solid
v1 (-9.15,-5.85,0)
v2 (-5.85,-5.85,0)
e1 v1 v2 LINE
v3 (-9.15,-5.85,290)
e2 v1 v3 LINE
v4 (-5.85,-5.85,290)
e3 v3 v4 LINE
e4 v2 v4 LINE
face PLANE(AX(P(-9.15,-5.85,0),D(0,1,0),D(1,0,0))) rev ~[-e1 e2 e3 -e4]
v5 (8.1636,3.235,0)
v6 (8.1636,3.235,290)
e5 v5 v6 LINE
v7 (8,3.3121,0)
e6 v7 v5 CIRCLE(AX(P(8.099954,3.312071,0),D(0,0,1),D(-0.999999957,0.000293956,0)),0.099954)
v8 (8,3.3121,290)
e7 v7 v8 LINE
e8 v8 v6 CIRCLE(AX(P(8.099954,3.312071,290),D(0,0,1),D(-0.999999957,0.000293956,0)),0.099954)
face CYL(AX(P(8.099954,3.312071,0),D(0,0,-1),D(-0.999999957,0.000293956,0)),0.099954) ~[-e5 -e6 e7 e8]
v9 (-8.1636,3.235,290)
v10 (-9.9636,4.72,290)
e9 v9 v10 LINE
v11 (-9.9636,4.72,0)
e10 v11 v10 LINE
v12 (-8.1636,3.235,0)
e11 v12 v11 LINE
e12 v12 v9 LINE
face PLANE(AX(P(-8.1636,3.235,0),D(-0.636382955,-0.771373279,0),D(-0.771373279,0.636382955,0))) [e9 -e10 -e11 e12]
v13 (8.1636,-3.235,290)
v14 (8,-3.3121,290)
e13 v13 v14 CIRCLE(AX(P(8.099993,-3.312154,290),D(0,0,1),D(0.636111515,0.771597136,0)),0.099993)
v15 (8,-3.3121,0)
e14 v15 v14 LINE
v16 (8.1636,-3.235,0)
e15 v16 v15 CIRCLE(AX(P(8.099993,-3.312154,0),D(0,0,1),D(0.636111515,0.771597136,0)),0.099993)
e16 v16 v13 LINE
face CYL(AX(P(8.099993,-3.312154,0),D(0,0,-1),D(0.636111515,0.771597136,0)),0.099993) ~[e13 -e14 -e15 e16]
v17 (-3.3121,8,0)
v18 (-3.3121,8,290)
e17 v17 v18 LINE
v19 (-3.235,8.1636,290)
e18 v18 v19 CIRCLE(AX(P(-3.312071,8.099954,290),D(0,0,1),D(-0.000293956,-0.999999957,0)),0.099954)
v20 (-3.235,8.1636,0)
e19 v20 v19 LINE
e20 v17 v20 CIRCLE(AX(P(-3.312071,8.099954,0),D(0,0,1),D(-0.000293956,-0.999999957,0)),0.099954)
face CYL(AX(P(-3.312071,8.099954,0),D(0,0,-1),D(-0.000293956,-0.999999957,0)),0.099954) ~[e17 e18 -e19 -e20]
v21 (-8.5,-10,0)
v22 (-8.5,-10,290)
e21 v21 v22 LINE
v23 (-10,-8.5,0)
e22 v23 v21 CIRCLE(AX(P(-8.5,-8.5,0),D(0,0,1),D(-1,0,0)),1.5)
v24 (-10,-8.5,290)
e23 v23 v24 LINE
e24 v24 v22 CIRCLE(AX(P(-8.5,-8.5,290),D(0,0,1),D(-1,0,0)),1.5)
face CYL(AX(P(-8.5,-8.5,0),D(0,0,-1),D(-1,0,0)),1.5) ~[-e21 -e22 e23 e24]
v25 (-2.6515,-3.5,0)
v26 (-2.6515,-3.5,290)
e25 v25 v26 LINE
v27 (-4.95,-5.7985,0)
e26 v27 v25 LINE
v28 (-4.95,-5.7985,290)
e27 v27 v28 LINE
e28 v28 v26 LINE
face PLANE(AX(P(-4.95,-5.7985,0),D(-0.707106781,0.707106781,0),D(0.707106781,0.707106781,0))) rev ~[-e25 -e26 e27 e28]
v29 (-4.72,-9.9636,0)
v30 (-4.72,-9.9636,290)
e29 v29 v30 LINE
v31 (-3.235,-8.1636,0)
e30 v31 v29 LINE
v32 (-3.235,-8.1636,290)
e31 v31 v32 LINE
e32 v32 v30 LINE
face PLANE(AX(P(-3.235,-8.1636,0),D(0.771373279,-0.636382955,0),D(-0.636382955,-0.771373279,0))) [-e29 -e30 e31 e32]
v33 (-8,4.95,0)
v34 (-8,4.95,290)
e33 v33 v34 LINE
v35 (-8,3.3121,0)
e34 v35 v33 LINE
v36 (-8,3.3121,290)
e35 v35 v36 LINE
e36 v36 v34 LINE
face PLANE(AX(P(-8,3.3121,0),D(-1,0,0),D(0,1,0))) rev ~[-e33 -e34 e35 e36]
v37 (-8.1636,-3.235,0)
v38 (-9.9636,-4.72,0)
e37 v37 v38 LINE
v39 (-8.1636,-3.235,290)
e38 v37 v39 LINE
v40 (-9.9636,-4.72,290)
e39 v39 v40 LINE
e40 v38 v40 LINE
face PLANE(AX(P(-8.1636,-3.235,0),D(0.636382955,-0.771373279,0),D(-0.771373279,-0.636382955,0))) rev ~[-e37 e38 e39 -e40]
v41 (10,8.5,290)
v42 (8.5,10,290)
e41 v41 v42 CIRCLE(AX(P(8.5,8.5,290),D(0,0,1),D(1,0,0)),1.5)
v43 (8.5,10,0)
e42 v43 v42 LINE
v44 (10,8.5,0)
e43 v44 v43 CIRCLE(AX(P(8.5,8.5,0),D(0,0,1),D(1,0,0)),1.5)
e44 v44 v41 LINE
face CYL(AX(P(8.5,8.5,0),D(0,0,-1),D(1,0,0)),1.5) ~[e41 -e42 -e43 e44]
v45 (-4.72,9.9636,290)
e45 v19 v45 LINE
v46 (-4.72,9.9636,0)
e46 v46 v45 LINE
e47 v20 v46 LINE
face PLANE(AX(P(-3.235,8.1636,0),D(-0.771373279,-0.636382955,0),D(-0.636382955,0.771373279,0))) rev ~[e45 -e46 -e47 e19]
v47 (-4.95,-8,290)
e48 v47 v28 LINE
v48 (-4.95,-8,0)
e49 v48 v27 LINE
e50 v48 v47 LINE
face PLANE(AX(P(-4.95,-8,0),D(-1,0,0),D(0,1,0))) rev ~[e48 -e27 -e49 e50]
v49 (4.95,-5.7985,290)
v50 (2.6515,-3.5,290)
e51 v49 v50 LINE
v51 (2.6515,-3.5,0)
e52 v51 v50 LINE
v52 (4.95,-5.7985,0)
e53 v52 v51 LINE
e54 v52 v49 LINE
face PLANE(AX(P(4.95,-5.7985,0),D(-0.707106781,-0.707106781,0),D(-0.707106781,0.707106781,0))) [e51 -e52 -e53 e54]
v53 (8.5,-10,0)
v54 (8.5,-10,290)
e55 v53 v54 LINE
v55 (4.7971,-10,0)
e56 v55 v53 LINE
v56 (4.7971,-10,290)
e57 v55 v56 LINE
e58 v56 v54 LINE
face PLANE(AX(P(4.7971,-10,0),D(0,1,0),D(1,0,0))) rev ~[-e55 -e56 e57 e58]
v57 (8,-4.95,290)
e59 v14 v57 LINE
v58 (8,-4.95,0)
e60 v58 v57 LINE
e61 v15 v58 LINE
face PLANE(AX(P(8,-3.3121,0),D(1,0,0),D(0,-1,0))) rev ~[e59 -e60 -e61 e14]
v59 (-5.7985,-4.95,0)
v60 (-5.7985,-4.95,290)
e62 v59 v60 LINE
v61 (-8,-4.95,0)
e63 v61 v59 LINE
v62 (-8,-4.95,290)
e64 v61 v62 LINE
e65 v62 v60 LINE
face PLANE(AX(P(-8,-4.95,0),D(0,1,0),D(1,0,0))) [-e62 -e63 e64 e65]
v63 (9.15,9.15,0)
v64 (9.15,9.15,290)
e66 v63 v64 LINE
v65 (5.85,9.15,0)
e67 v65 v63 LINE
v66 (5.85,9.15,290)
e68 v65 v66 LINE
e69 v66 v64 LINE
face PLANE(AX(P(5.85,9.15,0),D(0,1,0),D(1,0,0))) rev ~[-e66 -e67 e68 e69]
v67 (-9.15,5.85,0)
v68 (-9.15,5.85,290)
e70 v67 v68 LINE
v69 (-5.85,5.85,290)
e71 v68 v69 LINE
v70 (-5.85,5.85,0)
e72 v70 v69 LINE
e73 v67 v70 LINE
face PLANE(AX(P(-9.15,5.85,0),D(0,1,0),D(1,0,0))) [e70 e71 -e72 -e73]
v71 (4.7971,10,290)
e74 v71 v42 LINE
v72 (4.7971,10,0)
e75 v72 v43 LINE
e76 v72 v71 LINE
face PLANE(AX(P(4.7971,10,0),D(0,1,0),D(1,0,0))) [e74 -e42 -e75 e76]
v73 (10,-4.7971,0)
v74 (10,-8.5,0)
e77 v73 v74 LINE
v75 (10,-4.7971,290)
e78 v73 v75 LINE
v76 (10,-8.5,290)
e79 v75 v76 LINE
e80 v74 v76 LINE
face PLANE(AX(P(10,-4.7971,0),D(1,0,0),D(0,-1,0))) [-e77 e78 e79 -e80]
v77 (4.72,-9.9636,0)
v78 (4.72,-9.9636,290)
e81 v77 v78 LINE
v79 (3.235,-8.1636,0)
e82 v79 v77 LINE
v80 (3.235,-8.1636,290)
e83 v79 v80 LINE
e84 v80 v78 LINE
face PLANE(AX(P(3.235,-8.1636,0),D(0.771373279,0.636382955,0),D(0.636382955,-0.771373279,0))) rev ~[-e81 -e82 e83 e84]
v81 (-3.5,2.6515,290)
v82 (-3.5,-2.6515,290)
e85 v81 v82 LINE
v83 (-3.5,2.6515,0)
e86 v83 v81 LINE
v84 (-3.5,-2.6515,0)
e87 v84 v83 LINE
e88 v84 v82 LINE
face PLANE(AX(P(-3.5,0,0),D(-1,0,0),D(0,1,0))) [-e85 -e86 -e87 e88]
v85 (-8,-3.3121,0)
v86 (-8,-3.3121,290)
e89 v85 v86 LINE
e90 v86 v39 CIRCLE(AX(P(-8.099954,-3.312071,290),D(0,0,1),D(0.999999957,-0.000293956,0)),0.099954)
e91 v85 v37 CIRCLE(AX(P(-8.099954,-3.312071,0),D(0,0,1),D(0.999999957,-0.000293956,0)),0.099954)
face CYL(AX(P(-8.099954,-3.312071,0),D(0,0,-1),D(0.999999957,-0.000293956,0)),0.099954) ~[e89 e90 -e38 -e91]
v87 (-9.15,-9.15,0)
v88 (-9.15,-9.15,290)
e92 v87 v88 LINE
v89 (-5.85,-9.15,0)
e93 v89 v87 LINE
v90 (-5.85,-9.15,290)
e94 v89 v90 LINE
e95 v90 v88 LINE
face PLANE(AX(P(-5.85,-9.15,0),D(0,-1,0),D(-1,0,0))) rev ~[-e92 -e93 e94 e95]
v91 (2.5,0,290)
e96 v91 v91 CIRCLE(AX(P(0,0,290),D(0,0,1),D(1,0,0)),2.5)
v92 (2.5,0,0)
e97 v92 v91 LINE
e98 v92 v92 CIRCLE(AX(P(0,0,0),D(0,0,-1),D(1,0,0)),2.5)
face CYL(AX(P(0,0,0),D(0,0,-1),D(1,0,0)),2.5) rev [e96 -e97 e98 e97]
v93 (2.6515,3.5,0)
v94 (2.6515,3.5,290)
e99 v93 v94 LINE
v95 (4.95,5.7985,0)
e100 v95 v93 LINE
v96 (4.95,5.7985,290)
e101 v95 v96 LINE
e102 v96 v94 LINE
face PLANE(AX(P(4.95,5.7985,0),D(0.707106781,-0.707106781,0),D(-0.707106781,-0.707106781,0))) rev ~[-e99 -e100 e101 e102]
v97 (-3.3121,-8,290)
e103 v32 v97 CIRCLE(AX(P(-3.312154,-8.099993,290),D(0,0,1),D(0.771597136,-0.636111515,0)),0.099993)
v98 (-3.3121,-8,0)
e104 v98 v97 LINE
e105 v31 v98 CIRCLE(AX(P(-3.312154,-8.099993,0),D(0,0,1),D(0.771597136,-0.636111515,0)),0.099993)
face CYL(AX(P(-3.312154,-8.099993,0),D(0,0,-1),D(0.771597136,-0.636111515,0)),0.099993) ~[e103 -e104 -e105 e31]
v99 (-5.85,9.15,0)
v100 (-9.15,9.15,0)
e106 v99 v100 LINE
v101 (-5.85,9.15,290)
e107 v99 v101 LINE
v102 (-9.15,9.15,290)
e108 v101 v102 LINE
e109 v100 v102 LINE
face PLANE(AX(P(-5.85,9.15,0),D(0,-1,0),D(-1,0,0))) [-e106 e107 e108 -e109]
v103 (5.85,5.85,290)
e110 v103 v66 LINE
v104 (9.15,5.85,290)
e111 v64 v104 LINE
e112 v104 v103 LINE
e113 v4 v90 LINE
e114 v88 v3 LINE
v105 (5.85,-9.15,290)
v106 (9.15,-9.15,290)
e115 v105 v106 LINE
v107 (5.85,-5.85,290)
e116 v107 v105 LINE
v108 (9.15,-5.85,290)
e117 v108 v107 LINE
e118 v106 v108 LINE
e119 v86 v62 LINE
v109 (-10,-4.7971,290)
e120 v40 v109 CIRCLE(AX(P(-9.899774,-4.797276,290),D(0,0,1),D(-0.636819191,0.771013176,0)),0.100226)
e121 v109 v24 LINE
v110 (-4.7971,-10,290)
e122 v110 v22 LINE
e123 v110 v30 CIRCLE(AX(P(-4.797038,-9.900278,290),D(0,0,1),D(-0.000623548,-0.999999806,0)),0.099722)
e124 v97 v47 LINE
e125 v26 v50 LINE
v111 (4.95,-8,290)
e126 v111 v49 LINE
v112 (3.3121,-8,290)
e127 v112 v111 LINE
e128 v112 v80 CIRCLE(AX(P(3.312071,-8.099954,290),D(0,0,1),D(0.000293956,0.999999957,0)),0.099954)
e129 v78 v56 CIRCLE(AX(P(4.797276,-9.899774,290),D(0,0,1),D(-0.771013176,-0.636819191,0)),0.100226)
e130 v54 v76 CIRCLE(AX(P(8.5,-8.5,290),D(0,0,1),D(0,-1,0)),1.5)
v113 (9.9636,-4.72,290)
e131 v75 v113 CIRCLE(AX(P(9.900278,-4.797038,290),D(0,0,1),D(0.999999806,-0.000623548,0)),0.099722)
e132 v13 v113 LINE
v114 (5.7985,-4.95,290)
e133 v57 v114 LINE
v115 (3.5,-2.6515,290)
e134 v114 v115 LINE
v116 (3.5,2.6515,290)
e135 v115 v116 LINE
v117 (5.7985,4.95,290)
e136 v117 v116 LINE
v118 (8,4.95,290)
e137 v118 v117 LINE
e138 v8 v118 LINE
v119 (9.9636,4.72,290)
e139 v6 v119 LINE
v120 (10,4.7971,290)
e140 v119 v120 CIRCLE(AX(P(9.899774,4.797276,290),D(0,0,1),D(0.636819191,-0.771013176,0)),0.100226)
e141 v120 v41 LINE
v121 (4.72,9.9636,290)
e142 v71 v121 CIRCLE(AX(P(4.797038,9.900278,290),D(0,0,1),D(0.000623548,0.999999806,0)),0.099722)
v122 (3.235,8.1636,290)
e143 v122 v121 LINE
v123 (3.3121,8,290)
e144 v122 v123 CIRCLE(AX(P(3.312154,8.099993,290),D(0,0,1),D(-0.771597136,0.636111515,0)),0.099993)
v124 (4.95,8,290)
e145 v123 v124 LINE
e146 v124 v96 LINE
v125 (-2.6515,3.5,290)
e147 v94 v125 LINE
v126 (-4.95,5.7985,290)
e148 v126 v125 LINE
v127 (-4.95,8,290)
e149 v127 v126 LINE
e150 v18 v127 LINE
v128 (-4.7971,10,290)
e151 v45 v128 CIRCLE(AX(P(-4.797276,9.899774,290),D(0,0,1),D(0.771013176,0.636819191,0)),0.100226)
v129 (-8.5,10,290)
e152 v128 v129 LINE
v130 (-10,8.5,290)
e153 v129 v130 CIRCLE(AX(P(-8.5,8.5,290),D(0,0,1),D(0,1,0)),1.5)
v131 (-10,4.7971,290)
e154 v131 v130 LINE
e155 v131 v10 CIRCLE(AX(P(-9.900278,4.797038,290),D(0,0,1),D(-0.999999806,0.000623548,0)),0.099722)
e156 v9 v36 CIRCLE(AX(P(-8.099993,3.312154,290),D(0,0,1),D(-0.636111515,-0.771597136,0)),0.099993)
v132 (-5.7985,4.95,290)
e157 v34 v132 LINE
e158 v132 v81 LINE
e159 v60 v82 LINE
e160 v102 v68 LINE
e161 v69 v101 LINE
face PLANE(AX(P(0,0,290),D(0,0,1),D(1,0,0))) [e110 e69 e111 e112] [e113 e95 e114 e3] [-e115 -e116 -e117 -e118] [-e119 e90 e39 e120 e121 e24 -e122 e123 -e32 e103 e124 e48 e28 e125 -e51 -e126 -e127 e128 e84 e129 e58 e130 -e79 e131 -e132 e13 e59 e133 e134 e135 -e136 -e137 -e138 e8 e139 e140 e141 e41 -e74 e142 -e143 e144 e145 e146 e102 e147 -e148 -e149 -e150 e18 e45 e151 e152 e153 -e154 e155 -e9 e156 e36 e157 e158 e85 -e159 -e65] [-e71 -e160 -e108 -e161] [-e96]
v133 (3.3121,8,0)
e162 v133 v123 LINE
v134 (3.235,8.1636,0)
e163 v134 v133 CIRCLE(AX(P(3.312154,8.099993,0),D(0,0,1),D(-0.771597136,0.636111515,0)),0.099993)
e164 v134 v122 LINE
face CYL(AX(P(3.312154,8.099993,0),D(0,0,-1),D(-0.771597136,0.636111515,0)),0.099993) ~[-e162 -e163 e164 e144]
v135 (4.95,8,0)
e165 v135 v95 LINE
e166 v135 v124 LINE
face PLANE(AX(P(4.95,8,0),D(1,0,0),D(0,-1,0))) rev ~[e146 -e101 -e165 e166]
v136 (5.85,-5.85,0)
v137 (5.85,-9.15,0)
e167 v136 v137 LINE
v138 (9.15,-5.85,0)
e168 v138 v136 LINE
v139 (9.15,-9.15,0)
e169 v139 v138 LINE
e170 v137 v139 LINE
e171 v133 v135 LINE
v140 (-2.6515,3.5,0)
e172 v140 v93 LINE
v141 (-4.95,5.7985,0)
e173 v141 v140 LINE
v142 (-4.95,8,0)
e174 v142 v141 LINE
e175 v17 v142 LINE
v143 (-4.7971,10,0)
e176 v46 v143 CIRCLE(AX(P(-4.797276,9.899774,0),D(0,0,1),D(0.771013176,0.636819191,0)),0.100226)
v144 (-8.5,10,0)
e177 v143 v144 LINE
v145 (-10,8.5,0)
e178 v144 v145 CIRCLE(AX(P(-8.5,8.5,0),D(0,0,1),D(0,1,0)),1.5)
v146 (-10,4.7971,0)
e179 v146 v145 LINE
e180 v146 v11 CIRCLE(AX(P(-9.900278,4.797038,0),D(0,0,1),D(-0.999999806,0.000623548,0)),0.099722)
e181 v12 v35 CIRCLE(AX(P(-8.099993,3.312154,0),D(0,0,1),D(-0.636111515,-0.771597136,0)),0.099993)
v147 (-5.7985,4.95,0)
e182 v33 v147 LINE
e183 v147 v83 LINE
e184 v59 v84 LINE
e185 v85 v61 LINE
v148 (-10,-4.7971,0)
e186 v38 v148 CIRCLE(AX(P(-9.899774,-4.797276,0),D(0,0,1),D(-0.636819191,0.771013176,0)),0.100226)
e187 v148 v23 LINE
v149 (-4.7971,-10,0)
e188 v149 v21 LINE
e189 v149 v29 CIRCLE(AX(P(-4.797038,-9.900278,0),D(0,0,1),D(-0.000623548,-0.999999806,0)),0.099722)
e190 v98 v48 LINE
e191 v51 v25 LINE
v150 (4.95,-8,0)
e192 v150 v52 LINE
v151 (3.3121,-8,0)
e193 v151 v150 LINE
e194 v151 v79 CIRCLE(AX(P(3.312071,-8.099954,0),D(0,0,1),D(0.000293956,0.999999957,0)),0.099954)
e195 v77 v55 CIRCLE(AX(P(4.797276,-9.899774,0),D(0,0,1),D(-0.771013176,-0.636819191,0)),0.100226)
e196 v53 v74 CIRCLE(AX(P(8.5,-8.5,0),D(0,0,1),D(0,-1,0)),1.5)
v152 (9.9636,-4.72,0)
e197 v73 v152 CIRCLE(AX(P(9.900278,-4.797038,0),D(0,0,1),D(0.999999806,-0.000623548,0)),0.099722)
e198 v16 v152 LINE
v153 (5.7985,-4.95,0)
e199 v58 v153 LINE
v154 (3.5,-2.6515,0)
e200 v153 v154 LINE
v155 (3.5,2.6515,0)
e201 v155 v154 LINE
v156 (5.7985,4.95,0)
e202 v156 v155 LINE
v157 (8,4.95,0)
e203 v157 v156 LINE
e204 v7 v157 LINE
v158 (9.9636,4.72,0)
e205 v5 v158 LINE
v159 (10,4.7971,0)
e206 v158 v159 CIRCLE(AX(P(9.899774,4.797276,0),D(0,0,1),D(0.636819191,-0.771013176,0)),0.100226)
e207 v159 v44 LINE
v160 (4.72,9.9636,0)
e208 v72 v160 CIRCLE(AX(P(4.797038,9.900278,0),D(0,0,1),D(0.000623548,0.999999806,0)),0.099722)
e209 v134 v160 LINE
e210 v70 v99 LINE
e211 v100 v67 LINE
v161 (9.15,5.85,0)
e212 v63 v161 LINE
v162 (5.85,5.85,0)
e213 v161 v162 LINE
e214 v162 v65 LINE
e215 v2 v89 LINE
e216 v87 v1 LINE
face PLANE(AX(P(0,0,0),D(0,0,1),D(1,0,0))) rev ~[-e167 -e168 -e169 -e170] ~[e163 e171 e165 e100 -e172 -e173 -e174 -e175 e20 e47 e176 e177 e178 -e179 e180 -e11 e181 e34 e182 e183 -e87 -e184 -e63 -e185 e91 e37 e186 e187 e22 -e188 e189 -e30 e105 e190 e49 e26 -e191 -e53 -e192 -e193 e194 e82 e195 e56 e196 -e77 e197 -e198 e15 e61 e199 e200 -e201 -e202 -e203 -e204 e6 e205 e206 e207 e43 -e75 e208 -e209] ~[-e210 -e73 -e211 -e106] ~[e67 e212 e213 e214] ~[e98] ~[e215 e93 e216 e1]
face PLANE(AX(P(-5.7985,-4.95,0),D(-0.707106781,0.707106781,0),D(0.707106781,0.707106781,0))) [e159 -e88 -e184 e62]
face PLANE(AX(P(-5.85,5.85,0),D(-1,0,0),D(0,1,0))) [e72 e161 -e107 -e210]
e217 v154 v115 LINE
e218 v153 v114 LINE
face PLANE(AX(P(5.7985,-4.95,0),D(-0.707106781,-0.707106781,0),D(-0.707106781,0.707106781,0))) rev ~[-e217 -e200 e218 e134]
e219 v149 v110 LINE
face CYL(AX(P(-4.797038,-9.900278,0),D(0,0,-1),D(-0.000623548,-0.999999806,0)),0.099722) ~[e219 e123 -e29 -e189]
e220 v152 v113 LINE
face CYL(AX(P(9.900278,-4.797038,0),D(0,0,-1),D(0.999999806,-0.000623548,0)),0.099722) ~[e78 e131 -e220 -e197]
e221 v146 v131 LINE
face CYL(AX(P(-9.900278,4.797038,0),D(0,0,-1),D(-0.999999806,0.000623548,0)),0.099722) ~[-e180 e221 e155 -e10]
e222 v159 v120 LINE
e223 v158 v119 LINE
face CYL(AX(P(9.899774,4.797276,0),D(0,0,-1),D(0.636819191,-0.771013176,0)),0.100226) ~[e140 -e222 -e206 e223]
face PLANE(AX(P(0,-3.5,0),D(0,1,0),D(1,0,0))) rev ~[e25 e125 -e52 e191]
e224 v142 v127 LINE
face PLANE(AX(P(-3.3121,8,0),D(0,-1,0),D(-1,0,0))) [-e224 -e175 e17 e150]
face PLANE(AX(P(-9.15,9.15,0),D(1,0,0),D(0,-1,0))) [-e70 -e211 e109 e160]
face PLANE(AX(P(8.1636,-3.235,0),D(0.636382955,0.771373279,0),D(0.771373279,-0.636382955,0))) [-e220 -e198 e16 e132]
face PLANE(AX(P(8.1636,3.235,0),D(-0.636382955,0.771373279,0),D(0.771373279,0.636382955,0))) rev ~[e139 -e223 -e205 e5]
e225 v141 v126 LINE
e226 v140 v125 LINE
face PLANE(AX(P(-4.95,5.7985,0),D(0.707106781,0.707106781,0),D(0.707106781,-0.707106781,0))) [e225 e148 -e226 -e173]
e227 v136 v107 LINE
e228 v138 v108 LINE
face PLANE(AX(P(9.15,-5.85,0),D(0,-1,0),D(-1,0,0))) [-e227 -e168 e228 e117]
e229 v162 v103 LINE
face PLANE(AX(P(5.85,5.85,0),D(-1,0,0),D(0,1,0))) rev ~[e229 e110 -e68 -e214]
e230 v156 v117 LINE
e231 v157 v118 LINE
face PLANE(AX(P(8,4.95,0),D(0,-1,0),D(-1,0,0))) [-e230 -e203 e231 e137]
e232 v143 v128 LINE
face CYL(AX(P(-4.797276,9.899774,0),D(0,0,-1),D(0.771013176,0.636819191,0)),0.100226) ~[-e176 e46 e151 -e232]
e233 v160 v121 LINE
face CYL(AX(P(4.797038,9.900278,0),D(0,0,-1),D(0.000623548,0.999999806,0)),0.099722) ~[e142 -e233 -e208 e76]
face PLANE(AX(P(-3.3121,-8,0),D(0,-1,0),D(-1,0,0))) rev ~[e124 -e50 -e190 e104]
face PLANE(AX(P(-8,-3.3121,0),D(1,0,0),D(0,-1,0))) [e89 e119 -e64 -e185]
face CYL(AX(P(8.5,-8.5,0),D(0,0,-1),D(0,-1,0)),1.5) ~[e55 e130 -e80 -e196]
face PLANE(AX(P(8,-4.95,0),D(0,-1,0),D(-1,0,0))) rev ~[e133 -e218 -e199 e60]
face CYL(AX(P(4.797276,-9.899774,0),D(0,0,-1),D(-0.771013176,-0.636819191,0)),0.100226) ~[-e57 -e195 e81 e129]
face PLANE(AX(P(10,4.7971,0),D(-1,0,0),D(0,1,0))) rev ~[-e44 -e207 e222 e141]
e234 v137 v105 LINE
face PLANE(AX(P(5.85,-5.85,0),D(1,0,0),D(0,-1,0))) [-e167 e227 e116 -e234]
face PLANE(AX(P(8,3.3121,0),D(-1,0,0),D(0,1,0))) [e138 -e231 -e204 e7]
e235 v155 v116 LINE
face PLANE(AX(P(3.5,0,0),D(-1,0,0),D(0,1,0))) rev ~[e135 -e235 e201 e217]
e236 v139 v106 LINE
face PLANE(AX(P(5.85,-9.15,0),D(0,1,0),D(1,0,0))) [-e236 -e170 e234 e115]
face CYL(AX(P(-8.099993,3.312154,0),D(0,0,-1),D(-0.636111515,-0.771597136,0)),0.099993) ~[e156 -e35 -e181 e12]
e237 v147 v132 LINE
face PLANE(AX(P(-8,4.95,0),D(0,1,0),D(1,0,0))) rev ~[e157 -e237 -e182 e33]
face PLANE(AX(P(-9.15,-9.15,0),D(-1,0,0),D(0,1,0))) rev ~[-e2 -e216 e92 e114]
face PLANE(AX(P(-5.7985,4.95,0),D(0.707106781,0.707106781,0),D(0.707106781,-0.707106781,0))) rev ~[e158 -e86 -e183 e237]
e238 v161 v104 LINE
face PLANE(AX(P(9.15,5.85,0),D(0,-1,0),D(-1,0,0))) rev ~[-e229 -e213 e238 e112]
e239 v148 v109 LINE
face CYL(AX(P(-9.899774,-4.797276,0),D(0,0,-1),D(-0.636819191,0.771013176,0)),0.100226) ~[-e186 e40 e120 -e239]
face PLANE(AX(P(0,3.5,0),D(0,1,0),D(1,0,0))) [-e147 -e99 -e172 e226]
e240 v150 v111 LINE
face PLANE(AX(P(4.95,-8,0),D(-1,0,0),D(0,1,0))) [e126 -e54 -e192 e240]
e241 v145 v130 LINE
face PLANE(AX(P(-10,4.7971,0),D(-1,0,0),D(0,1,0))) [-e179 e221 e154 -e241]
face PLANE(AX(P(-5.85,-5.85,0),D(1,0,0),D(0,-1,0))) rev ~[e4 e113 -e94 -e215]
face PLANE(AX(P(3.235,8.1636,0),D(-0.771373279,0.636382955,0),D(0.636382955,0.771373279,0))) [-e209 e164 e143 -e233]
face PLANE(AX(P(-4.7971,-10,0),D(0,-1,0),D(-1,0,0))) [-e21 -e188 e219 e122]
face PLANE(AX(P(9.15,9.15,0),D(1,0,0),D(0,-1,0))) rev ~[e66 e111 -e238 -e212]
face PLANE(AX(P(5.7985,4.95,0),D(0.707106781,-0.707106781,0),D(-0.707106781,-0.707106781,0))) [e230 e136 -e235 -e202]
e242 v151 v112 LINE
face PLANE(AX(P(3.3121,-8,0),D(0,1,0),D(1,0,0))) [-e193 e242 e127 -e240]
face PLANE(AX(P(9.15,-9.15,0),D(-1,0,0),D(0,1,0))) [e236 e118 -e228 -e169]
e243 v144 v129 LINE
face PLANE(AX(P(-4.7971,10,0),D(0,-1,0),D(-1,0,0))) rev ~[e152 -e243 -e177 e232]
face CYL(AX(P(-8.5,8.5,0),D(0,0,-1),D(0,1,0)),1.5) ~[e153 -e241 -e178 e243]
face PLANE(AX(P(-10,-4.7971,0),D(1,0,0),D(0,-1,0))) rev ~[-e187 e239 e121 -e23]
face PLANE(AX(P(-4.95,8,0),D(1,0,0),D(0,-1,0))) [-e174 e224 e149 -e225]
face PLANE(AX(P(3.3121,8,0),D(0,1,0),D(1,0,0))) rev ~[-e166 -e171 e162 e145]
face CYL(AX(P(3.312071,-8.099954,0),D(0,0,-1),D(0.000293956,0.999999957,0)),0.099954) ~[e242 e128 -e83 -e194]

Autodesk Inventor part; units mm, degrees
ref_plane "YZ Plane" through (0, 0, 0) normal (1, 0, 0) x (0, 1, 0)
ref_plane "Начальная плоскость" through (0, 0, 0) normal (0, 0, 1) x (1, 0, 0)
ref_plane "Конечная плоскость" through (0, 0, 290) normal (0, 0, 1) x (1, 0, 0)
sketch "Эскиз" plane through (0, 0, 0) normal (0, 0, 1) x (1, 0, 0)
  line L0 (-14.4349, 0) -> (14.4349, 0) projected
  line L1 (0, -14) -> (0, 14) projected
  line L2 (0, 0) -> (7.5, 7.5) construction
  circle A0 centre (7.5, 7.5) radius 1.65 construction
  line L3 (5.85, 9.15) -> (9.15, 9.15)
  line L4 (9.15, 9.15) -> (9.15, 5.85)
  line L5 (9.15, 5.85) -> (5.85, 5.85)
  line L6 (5.85, 5.85) -> (5.85, 9.15)
  line L7 (3.235, 8.1636) -> (4.72, 9.9636)
  line L8 (4.7971, 10) -> (8.5, 10)
  line L9 (3.3121, 8) -> (4.95, 8)
  line L10 (4.95, 8) -> (4.95, 5.7985)
  line L11 (4.95, 5.7985) -> (2.6515, 3.5)
  line L12 (0, 3.5) -> (2.6515, 3.5)
  circle A1 centre (0, 0) radius 2.5
  line L13 (8.1636, 3.235) -> (9.9636, 4.72)
  line L14 (10, 4.7971) -> (10, 8.5)
  line L15 (8, 3.3121) -> (8, 4.95)
  line L16 (8, 4.95) -> (5.7985, 4.95)
  line L17 (5.7985, 4.95) -> (3.5, 2.6515)
  line L18 (3.5, 0) -> (3.5, 2.6515)
  arc A2 (10, 8.5) -> (8.5, 10) centre (8.5, 8.5) ccw
  line L19 (0, 0) -> (-7.5, 7.5) construction
  circle A3 centre (-7.5, 7.5) radius 1.65 construction
  line L20 (-5.85, 9.15) -> (-9.15, 9.15)
  line L21 (-9.15, 9.15) -> (-9.15, 5.85)
  line L22 (-9.15, 5.85) -> (-5.85, 5.85)
  line L23 (-5.85, 5.85) -> (-5.85, 9.15)
  line L24 (-3.235, 8.1636) -> (-4.72, 9.9636)
  line L25 (-4.7971, 10) -> (-8.5, 10)
  line L26 (-3.3121, 8) -> (-4.95, 8)
  line L27 (-4.95, 8) -> (-4.95, 5.7985)
  line L28 (-4.95, 5.7985) -> (-2.6515, 3.5)
  line L29 (0, 3.5) -> (-2.6515, 3.5)
  line L30 (-3.5, 0) -> (-3.5, 2.6515)
  line L31 (-5.7985, 4.95) -> (-3.5, 2.6515)
  line L32 (-8, 4.95) -> (-5.7985, 4.95)
  line L33 (-8, 3.3121) -> (-8, 4.95)
  line L34 (-8.1636, 3.235) -> (-9.9636, 4.72)
  line L35 (-10, 4.7971) -> (-10, 8.5)
  arc A4 (-8.5, 10) -> (-10, 8.5) centre (-8.5, 8.5) ccw
  line L36 (0, 14) -> (0, -14)
  line L37 (0, 0) -> (7.5, -7.5) construction
  circle A5 centre (7.5, -7.5) radius 1.65 construction
  line L38 (5.85, -9.15) -> (9.15, -9.15)
  line L39 (9.15, -9.15) -> (9.15, -5.85)
  line L40 (9.15, -5.85) -> (5.85, -5.85)
  line L41 (5.85, -5.85) -> (5.85, -9.15)
  line L42 (3.235, -8.1636) -> (4.72, -9.9636)
  line L43 (4.7971, -10) -> (8.5, -10)
  line L44 (3.3121, -8) -> (4.95, -8)
  line L45 (4.95, -8) -> (4.95, -5.7985)
  line L46 (4.95, -5.7985) -> (2.6515, -3.5)
  line L47 (0, -3.5) -> (2.6515, -3.5)
  line L48 (3.5, 0) -> (3.5, -2.6515)
  line L49 (5.7985, -4.95) -> (3.5, -2.6515)
  line L50 (8, -4.95) -> (5.7985, -4.95)
  line L51 (8, -3.3121) -> (8, -4.95)
  line L52 (8.1636, -3.235) -> (9.9636, -4.72)
  line L53 (10, -4.7971) -> (10, -8.5)
  arc A6 (8.5, -10) -> (10, -8.5) centre (8.5, -8.5) ccw
  line L54 (0, 0) -> (-7.5, -7.5) construction
  line L55 (-4.95, -8) -> (-4.95, -5.7985)
  line L56 (-3.3121, -8) -> (-4.95, -8)
  line L57 (-5.7985, -4.95) -> (-3.5, -2.6515)
  line L58 (-4.95, -5.7985) -> (-2.6515, -3.5)
  line L59 (-3.5, 0) -> (-3.5, -2.6515)
  line L60 (0, -3.5) -> (-2.6515, -3.5)
  circle A7 centre (-7.5, -7.5) radius 1.65 construction
  line L61 (-5.85, -5.85) -> (-5.85, -9.15)
  line L62 (-5.85, -9.15) -> (-9.15, -9.15)
  line L63 (-9.15, -9.15) -> (-9.15, -5.85)
  line L64 (-9.15, -5.85) -> (-5.85, -5.85)
  line L65 (-3.235, -8.1636) -> (-4.72, -9.9636)
  line L66 (-8, -4.95) -> (-5.7985, -4.95)
  line L67 (-8, -3.3121) -> (-8, -4.95)
  line L68 (-8.1636, -3.235) -> (-9.9636, -4.72)
  line L69 (-4.7971, -10) -> (-8.5, -10)
  line L70 (-10, -4.7971) -> (-10, -8.5)
  arc A8 (-10, -8.5) -> (-8.5, -10) centre (-8.5, -8.5) ccw
  arc A9 (3.235, 8.1636) -> (3.3121, 8) centre (3.3121, 8.1) ccw
  arc A10 (4.7971, 10) -> (4.72, 9.9636) centre (4.7971, 9.9) ccw
  arc A11 (8, 3.3121) -> (8.1636, 3.235) centre (8.1, 3.3121) ccw
  arc A12 (9.9636, 4.72) -> (10, 4.7971) centre (9.9, 4.7971) ccw
  arc A13 (-3.3121, 8) -> (-3.235, 8.1636) centre (-3.3121, 8.1) ccw
  arc A14 (-4.72, 9.9636) -> (-4.7971, 10) centre (-4.7971, 9.9) ccw
  arc A15 (-8.1636, 3.235) -> (-8, 3.3121) centre (-8.1, 3.3121) ccw
  arc A16 (-10, 4.7971) -> (-9.9636, 4.72) centre (-9.9, 4.7971) ccw
  arc A17 (-8, -3.3121) -> (-8.1636, -3.235) centre (-8.1, -3.3121) ccw
  arc A18 (-9.9636, -4.72) -> (-10, -4.7971) centre (-9.9, -4.7971) ccw
  arc A19 (-3.235, -8.1636) -> (-3.3121, -8) centre (-3.3121, -8.1) ccw
  arc A20 (-4.7971, -10) -> (-4.72, -9.9636) centre (-4.7971, -9.9) ccw
  arc A21 (4.72, -9.9636) -> (4.7971, -10) centre (4.7971, -9.9) ccw
  arc A22 (3.3121, -8) -> (3.235, -8.1636) centre (3.3121, -8.1) ccw
  arc A23 (8.1636, -3.235) -> (8, -3.3121) centre (8.1, -3.3121) ccw
  arc A24 (10, -4.7971) -> (9.9636, -4.72) centre (9.9, -4.7971) ccw
  point P0 (3.1, 8)
  point P1 (4.75, 10)
  point P2 (7.5, 9.15)
  point P3 (8, 3.1)
  point P4 (10, 4.75)
  point P5 (7.5, 5.85)
  point P6 (9.15, 7.5)
  point P7 (-3.1, 8)
  point P8 (-4.75, 10)
  point P9 (-7.5, 9.15)
  point P10 (-8, 3.1)
  point P11 (-10, 4.75)
  point P12 (-7.5, 5.85)
  point P13 (-9.15, 7.5)
  point P14 (3.1, -8)
  point P15 (4.75, -10)
  point P16 (7.5, -9.15)
  point P17 (8, -3.1)
  point P18 (10, -4.75)
  point P19 (7.5, -5.85)
  point P20 (9.15, -7.5)
  point P21 (-3.1, -8)
  point P22 (-7.5, -5.85)
  point P23 (-7.5, -9.15)
  point P24 (-9.15, -7.5)
  point P25 (-4.75, -10)
  point P26 (-8, -3.1)
  point P27 (-10, -4.75)
  dimension "d0" = 45
  dimension "d1" = 3.3
  dimension "d2" = 1.5
  dimension "d3" = 1.2
  dimension "d4" = 5
  dimension "d5" = 6.5
  dimension "d6" = 15
  dimension "d7" = 20
  dimension "d8" = 9.9
  dimension "d9" = 9.5
  dimension "d10" = 6.2
  dimension "d11" = 2
  dimension "d18" = 0.1
  dimension "d19" = 0.1
extrude "Тело" add sketch "Эскиз" along normal up to surface (290 mm away) from surface at 0 contours A1 L1 L12 L11 L10 L9 A9 L7 A10 L8 A2 L14 A12 L13 A11 L15 L16 L17 L18 L0 | L0 L48 L49 L50 L51 A23 L52 A24 L53 A6 L43 A21 L42 A22 L44 L45 L46 L47 L1 A1 | A1 L0 L30 L31 L32 L33 A15 L34 A16 L35 A4 L25 A14 L24 A13 L26 L27 L28 L29 L1 | L1 L60 L58 L55 L56 A19 L65 A20 L69 A8 L70 A18 L68 A17 L67 L66 L57 L59 L0 A1
sketch "Эскиз2" plane through (0, 0, 0) normal (0, 0, 1) x (1, 0, 0)
  line L0 (0, 0) -> (10, 0)
ref_plane "РабПлоскость3" through (0, 0, 0) normal (0, -1, 0) x (1, 0, 0)
sketch "Эскиз3" plane through (0, 0, 0) normal (0, -1, 0) x (1, 0, 0)
  line L0 (-2, 0) -> (12, 0)
  line L1 (-2, 290) -> (12, 290)
  dimension "d25" = 290
equation "\"G_OFFSET_START\" = 0"
equation "\"G_OFFSET_END\" = 0"
properties part number "короткая палка"
